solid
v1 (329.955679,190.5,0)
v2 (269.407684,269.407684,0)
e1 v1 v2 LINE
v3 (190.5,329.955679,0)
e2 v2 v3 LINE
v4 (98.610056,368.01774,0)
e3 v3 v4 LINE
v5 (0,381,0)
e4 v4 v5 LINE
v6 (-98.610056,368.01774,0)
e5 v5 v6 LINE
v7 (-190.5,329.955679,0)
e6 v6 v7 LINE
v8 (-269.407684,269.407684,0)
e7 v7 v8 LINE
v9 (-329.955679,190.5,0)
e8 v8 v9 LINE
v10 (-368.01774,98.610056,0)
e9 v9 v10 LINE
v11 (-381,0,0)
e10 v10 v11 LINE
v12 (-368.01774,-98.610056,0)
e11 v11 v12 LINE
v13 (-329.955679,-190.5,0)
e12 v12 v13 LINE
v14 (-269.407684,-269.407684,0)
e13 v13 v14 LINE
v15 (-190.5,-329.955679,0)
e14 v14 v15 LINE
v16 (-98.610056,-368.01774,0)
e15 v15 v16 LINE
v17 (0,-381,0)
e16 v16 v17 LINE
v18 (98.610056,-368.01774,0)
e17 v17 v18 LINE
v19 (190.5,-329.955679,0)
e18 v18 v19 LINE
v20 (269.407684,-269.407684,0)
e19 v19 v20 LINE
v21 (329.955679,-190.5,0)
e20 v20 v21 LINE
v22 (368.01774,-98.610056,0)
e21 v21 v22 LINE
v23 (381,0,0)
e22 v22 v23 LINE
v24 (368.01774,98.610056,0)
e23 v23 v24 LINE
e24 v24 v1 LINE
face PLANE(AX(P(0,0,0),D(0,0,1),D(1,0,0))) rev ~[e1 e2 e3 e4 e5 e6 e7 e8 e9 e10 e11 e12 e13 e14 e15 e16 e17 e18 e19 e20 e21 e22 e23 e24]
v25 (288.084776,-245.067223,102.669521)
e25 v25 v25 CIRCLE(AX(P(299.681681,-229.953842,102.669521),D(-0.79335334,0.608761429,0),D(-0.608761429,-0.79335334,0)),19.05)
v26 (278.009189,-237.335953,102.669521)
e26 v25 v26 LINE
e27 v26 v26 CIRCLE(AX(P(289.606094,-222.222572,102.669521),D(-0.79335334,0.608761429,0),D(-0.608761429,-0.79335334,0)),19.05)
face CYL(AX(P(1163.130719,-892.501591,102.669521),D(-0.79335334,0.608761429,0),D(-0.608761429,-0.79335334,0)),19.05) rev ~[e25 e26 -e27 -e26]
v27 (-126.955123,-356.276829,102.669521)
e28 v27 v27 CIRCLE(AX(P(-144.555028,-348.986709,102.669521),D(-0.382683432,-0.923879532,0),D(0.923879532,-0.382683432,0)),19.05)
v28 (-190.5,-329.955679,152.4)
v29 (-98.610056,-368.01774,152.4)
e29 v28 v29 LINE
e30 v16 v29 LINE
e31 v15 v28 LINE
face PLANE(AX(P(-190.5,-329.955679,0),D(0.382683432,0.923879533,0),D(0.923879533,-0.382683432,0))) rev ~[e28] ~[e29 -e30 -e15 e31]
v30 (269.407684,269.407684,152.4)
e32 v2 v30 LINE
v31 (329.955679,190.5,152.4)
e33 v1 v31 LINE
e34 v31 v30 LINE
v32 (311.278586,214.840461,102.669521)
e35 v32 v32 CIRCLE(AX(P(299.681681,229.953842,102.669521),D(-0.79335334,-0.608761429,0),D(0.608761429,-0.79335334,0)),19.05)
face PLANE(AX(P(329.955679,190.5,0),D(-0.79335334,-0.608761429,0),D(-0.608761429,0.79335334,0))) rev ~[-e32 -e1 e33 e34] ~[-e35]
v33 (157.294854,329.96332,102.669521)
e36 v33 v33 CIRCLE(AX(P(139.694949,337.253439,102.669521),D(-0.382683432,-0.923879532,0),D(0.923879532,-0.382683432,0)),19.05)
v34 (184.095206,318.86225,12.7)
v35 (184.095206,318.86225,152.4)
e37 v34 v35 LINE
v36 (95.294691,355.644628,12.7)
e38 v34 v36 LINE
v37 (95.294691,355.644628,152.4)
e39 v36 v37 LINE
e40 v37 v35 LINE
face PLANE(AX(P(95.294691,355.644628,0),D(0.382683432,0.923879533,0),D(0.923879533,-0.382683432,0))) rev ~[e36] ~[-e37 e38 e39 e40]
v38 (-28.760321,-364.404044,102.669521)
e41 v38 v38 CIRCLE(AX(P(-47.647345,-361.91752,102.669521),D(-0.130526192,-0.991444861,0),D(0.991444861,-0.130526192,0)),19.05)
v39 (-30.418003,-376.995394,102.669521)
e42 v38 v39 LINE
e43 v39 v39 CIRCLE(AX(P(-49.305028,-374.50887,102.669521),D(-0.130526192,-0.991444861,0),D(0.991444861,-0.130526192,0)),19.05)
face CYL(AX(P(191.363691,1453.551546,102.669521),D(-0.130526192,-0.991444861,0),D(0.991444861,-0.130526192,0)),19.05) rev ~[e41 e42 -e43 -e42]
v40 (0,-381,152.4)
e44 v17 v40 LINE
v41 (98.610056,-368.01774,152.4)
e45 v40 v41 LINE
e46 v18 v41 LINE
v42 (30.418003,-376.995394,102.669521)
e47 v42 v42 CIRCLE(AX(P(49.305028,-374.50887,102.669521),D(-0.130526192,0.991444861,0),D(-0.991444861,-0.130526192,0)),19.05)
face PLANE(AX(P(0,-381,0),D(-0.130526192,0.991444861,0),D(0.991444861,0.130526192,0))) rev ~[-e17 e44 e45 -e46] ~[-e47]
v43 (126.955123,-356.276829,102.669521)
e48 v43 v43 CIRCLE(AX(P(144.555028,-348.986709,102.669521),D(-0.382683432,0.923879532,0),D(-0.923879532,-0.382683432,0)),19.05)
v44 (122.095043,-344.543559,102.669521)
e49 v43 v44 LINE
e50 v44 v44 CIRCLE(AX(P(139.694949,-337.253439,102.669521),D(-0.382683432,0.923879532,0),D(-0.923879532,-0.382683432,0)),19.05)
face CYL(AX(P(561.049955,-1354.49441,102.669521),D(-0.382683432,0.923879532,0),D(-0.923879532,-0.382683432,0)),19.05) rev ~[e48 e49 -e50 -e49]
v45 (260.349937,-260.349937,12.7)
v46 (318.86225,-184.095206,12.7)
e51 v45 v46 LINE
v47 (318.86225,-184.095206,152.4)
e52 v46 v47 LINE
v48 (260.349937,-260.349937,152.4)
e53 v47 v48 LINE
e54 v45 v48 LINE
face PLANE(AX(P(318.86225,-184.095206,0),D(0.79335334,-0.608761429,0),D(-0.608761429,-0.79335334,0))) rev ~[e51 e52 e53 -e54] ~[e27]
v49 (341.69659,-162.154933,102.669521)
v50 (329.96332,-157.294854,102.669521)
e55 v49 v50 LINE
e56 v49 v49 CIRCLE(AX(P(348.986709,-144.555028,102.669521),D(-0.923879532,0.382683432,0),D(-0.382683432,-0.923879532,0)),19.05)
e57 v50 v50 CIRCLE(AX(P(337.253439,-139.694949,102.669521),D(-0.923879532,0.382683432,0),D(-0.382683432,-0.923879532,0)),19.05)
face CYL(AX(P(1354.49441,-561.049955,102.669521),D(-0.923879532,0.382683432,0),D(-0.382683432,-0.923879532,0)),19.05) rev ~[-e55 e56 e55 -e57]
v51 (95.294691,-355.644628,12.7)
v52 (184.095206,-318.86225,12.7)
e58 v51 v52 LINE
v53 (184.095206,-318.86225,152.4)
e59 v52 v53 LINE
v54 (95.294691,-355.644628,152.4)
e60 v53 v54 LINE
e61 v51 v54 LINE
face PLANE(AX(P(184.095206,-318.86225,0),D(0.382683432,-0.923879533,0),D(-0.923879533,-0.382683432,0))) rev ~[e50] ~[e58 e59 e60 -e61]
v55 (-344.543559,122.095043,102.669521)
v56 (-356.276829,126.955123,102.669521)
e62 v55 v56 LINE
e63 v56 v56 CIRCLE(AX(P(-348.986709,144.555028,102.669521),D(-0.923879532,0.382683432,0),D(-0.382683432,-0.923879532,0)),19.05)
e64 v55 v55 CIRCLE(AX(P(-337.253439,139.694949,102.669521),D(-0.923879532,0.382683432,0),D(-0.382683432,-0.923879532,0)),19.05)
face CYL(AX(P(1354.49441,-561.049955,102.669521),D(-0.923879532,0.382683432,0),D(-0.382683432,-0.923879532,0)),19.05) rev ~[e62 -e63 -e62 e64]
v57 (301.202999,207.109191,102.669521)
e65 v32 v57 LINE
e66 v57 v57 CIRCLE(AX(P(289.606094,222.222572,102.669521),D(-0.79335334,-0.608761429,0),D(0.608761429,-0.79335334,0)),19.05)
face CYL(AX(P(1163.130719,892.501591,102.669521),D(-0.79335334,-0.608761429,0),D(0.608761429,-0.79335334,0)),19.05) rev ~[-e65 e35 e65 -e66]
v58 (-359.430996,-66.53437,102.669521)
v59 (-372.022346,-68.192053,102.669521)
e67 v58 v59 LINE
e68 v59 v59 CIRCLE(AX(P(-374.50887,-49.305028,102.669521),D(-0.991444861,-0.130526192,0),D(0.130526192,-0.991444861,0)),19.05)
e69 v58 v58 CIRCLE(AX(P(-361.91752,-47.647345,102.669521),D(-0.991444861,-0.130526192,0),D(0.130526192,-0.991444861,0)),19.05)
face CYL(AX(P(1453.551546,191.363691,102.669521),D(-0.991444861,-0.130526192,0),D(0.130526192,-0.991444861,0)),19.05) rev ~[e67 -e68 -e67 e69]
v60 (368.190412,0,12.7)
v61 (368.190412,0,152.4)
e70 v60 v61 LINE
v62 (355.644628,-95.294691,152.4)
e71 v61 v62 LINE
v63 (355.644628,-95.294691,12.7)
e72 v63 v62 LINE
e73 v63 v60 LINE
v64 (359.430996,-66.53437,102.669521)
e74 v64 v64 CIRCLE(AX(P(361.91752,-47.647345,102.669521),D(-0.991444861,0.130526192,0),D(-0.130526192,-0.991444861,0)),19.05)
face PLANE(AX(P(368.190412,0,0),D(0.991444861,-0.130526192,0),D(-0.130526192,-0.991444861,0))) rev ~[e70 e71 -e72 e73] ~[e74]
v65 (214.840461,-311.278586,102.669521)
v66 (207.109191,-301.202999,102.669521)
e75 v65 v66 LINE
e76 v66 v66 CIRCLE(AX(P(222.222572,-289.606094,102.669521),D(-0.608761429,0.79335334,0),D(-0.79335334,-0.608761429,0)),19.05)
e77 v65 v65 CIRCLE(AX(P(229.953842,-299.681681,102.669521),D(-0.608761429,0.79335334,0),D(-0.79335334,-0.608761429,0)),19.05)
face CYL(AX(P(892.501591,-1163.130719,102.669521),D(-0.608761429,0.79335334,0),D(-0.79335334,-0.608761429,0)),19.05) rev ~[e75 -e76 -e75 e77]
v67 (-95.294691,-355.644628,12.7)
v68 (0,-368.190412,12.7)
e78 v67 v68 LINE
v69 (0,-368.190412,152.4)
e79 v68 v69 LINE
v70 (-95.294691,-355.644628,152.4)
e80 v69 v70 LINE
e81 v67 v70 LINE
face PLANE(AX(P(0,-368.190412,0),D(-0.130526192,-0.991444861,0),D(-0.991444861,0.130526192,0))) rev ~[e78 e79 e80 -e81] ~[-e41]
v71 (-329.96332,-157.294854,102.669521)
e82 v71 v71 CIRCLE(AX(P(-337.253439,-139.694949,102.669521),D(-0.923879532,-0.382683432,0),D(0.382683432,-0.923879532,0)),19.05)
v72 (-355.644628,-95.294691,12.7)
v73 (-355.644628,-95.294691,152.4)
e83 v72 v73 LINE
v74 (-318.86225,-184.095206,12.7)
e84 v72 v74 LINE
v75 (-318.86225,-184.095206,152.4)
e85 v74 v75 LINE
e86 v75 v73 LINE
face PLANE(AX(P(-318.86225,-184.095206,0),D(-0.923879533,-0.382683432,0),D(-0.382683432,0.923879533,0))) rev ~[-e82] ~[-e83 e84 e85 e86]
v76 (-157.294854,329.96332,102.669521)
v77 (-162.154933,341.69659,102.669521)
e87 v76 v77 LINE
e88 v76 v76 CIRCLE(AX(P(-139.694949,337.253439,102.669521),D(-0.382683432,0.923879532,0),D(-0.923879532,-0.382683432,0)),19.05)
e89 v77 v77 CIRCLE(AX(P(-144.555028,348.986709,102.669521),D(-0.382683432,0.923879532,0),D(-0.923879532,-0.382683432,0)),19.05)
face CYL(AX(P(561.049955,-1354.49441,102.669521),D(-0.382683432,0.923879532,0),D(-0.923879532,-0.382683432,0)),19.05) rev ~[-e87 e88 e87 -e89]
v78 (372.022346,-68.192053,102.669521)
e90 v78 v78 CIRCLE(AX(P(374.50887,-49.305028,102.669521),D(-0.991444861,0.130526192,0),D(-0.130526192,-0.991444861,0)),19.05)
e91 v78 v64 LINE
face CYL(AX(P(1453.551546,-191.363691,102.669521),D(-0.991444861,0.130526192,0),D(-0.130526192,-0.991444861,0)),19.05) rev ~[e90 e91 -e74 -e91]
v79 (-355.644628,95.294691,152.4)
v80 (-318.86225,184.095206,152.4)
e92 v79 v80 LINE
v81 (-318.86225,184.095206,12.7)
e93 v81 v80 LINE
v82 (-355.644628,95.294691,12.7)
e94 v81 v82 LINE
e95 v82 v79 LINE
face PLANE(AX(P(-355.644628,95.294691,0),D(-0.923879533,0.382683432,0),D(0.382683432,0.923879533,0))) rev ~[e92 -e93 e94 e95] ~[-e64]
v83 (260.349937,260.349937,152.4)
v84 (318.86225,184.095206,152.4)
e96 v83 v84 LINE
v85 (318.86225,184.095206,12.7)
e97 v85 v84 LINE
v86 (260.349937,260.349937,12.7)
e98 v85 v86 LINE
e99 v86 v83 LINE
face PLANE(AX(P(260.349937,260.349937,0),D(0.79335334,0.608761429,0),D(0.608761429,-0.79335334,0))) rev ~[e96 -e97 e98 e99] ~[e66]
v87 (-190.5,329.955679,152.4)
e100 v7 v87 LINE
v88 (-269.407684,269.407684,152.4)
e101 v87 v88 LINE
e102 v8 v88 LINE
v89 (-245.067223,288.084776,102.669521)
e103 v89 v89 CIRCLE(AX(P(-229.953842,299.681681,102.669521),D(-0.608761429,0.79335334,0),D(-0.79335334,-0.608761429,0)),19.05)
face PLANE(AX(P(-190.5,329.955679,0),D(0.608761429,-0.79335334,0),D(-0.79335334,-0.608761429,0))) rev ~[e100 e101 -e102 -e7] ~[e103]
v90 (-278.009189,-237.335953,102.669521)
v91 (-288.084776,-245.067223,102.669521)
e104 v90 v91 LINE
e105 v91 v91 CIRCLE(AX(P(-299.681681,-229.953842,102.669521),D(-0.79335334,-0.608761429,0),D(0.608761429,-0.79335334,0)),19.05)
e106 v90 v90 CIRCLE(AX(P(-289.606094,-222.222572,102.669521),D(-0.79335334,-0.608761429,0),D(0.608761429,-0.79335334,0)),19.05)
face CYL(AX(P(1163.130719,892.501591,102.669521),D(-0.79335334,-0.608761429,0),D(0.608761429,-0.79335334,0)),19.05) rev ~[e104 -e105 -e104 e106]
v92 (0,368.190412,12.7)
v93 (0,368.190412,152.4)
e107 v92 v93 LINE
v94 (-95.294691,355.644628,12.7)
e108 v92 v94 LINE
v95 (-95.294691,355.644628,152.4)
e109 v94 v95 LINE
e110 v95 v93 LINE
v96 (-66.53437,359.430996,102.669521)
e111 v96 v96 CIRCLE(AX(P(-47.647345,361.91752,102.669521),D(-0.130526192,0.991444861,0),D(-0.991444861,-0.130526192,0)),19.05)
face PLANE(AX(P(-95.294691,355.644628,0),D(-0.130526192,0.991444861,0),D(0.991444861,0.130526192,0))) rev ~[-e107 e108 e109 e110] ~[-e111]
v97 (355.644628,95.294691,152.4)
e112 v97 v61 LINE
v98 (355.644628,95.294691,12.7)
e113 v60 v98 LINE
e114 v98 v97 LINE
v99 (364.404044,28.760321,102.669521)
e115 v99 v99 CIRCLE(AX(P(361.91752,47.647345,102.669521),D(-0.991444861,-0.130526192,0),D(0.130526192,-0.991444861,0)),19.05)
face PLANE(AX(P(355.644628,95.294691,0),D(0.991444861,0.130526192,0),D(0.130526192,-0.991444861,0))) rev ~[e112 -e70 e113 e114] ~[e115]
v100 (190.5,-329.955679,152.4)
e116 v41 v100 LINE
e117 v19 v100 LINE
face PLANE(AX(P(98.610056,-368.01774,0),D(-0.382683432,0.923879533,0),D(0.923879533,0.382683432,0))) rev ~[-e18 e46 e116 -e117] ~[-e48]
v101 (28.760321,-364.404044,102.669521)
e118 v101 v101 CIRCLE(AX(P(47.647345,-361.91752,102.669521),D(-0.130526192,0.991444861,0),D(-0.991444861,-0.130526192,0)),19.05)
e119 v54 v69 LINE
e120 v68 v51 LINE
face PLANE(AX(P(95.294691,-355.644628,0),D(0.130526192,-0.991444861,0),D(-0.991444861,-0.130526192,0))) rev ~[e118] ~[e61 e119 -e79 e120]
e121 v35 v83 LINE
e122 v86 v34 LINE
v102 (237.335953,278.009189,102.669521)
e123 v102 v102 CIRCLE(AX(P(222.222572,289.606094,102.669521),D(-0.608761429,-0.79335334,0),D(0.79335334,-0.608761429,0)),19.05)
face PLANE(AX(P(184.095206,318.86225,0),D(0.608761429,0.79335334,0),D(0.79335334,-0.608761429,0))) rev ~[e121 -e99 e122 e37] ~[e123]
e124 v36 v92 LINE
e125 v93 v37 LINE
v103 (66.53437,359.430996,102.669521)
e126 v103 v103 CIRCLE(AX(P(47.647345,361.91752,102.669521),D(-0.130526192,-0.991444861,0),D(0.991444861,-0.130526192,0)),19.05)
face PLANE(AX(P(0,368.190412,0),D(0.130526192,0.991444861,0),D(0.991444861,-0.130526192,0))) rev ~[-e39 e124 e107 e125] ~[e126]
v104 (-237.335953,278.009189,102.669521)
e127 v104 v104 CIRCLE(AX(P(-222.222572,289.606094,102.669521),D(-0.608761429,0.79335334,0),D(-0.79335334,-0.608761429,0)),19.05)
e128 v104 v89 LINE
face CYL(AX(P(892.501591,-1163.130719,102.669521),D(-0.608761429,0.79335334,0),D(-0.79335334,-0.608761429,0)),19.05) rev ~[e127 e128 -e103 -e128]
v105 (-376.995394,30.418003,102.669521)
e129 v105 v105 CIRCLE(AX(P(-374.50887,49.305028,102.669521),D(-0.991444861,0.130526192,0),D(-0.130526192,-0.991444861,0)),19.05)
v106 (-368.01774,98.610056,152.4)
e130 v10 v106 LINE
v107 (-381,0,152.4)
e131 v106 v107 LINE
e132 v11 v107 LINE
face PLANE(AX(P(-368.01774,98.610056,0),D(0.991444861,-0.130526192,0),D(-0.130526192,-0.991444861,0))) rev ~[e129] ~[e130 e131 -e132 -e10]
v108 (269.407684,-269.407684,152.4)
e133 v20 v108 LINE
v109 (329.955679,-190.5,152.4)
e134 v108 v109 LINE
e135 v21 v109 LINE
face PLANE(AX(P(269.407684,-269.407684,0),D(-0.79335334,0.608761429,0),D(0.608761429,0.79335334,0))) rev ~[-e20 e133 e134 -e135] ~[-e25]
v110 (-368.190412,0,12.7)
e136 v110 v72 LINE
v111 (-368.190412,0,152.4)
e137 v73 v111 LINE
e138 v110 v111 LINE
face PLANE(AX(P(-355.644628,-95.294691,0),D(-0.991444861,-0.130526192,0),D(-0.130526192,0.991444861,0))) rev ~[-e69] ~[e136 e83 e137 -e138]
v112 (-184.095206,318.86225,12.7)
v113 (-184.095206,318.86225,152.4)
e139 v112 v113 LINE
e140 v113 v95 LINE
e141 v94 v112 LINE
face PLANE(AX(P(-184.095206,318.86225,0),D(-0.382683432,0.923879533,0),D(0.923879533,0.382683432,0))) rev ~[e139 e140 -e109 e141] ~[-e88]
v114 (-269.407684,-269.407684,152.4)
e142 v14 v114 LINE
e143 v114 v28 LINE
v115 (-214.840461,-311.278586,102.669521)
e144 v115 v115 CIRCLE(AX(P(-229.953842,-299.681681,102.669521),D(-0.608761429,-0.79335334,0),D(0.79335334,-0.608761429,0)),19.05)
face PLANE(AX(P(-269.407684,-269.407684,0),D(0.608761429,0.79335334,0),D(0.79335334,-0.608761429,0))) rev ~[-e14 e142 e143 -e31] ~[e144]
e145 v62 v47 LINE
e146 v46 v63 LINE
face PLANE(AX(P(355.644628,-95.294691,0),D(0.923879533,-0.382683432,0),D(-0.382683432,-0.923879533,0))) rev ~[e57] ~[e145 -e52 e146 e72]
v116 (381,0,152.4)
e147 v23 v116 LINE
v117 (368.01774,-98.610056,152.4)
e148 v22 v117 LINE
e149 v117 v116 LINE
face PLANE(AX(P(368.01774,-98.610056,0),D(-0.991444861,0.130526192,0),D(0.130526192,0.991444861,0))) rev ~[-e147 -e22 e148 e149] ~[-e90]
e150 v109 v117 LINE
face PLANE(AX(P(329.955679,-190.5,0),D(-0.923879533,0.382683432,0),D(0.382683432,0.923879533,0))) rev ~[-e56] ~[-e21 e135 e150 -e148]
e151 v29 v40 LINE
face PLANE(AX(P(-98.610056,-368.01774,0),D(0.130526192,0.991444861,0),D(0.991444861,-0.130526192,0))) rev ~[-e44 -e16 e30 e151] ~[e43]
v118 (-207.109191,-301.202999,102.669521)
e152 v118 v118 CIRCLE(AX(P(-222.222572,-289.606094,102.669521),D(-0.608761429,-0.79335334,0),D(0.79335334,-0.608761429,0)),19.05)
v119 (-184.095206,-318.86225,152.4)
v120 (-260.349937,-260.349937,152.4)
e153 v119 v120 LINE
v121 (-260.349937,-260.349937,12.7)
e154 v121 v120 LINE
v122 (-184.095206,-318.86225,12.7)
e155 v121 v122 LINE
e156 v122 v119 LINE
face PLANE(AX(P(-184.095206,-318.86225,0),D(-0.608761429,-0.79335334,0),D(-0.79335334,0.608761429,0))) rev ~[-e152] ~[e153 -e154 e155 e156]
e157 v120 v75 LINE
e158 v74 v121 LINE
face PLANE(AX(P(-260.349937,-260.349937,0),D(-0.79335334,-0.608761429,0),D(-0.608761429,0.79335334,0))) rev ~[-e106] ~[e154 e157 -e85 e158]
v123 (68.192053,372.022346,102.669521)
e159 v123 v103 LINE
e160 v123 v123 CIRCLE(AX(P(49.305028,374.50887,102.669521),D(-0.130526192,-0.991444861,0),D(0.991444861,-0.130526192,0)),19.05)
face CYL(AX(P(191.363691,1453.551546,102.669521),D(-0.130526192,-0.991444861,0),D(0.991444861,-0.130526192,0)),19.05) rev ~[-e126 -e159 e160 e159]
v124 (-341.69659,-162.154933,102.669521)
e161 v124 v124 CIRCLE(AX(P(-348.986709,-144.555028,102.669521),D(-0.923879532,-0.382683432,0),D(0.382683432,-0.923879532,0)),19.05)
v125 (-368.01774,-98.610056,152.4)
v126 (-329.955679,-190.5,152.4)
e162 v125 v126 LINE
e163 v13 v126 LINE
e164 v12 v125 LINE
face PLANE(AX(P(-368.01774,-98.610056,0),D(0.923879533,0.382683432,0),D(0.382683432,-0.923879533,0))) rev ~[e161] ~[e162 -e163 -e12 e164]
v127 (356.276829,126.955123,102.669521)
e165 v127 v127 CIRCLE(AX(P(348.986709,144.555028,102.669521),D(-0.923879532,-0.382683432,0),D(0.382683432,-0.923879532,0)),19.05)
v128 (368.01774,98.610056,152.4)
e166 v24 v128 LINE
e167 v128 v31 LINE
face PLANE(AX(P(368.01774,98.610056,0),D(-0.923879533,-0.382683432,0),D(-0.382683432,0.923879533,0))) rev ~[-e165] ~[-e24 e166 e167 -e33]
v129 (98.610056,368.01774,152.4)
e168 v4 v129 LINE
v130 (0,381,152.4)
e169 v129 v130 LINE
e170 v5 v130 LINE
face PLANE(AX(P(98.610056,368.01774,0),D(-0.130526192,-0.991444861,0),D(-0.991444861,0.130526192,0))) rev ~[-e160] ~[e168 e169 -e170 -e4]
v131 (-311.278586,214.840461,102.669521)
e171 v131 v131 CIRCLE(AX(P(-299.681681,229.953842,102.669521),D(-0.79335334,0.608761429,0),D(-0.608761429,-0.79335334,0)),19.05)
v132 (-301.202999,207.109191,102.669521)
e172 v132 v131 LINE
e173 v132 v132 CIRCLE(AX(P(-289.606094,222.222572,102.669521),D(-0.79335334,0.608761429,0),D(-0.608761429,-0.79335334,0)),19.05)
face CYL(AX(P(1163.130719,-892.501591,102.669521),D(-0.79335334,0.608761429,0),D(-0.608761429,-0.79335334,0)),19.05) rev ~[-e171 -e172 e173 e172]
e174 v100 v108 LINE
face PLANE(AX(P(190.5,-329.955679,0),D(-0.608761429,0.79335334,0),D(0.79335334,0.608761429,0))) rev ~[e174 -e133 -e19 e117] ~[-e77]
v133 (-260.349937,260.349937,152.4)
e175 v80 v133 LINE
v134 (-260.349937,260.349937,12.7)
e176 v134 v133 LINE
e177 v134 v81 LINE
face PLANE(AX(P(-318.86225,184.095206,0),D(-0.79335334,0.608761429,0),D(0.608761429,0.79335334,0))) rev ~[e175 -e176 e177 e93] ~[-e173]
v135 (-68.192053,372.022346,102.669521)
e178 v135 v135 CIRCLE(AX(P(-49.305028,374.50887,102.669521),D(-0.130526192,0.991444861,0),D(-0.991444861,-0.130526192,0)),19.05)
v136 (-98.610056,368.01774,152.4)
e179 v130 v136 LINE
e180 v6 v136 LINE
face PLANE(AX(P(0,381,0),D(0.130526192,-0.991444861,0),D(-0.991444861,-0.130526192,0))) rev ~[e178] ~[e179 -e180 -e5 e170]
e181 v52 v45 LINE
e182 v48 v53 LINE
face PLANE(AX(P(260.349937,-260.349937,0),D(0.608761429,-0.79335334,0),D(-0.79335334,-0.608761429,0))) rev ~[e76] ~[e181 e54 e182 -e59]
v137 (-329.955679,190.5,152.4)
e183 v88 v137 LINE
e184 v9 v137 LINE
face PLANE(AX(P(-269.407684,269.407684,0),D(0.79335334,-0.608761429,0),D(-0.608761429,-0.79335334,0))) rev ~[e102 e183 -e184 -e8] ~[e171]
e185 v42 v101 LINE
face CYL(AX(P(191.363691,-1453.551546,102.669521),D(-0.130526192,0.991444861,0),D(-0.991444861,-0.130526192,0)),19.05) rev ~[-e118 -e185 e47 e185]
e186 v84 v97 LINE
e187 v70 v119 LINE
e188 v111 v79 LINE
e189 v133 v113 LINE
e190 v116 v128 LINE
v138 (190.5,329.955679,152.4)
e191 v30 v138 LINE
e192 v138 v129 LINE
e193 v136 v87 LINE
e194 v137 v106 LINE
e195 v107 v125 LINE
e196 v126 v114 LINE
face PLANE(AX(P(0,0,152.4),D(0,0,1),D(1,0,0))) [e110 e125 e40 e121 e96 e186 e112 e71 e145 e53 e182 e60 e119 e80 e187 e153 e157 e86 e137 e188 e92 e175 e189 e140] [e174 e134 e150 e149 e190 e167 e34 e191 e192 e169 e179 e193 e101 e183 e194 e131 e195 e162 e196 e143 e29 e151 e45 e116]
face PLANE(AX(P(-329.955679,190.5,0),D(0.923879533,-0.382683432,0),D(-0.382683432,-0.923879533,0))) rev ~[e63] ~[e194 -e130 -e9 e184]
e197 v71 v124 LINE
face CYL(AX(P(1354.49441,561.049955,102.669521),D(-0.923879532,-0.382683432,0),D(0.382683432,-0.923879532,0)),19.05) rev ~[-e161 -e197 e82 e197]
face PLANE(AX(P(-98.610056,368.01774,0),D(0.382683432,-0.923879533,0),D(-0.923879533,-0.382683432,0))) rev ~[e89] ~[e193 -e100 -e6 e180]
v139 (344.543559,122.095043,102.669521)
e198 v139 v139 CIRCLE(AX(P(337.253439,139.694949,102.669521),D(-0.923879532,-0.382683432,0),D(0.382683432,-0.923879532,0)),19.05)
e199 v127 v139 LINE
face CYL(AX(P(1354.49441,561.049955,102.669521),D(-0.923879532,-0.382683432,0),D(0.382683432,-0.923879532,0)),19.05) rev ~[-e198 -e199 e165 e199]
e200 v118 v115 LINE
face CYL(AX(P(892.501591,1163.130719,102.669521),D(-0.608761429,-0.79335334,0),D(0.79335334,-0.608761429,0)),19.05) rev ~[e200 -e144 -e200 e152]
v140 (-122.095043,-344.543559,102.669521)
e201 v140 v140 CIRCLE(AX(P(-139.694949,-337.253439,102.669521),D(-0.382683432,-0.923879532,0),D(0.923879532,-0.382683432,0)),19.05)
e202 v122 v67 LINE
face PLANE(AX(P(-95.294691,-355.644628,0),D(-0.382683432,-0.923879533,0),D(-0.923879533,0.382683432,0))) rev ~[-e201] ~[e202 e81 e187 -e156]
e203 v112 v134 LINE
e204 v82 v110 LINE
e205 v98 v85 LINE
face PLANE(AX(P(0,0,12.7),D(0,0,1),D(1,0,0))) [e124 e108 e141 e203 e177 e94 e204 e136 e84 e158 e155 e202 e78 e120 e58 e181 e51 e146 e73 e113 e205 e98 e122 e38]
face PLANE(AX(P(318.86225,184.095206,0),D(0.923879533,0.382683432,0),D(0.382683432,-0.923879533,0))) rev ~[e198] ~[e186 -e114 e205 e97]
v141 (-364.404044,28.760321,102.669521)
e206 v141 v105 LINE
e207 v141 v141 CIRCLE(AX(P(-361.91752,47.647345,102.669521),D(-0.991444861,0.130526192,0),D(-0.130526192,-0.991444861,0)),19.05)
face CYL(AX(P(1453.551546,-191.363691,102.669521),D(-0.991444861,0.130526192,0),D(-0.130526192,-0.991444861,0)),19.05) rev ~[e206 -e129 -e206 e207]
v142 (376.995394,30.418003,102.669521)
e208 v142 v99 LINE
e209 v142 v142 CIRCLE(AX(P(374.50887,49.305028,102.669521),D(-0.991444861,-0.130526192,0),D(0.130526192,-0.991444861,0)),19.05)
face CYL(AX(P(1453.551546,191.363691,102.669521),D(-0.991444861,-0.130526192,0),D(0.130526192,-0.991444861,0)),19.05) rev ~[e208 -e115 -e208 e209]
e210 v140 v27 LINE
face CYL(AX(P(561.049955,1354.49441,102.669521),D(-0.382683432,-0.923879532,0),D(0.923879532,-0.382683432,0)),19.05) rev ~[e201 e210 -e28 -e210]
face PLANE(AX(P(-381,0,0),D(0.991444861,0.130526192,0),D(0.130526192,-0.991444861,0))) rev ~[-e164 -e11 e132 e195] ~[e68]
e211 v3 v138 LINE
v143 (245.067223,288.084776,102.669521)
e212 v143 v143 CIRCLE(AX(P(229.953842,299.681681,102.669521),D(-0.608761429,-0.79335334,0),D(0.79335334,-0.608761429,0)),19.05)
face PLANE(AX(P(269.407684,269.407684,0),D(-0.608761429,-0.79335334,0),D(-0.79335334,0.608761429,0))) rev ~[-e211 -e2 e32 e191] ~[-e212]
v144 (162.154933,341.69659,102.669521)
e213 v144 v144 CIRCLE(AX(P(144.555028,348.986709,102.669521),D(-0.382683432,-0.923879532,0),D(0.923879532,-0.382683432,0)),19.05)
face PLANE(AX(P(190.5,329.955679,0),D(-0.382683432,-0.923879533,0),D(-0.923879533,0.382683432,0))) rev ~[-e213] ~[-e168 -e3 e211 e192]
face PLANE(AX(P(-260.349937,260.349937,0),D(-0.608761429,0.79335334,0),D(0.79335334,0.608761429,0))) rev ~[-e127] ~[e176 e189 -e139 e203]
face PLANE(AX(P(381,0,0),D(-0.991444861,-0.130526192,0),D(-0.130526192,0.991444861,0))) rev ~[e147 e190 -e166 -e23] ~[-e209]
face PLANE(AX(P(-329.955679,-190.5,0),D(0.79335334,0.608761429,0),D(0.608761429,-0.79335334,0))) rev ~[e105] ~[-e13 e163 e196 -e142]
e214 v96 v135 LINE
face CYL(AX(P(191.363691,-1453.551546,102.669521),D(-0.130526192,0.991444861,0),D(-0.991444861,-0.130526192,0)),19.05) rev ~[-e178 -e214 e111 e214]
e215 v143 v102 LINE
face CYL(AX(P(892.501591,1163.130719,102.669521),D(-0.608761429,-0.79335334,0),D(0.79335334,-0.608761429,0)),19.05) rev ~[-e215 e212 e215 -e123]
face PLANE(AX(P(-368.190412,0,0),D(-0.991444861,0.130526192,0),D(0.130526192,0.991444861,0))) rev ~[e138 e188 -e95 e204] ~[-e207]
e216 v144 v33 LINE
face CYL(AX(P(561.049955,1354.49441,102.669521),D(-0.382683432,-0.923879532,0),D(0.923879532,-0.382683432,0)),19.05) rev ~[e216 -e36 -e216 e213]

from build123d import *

# Parameters (mm, degrees)
F1_DEPTH     = 152.4
F2_DEPTH     = 12.7
F15_D        = 38.1
F15_ON_F13_D = 38.1
F15_ON_F12_D = 38.1
F15_ON_F11_D = 38.1
F15_ON_F10_D = 38.1
F15_ON_F9_D  = 38.1
F15_ON_F8_D  = 38.1
F15_ON_F7_D  = 38.1
F15_ON_F6_D  = 38.1
F15_ON_F5_D  = 38.1
F15_ON_F4_D  = 38.1
F15_ON_F3_D  = 38.1


with BuildPart() as f1:
    # F0 (on Top) → F1 (new body)
    with BuildSketch(Plane.XY):
        Polygon((98.6100561841, 368.0177398161), (0, 381), (-98.6100561841, 368.0177398161), (-190.5, 329.9556788419), (-269.4076836321, 269.4076836321), (-329.9556788419, 190.5), (-368.0177398161, 98.6100561841), (-381, 0), (-368.0177398161, -98.6100561841), (-329.9556788419, -190.5), (-269.4076836321, -269.4076836321), (-190.5, -329.9556788419), (-98.6100561841, -368.0177398161), (0, -381), (98.6100561841, -368.0177398161), (190.5, -329.9556788419), (269.4076836321, -269.4076836321), (329.9556788419, -190.5), (368.0177398161, -98.6100561841), (381, 0), (368.0177398161, 98.6100561841), (329.9556788419, 190.5), (269.4076836321, 269.4076836321), (190.5, 329.9556788419), align=None)
        Polygon((-95.2946909017, 355.6446281366), (0, 368.1904122006), (95.2946909017, 355.6446281366), (184.0952061003, 318.8622503956), (260.3499372349, 260.3499372349), (318.8622503956, 184.0952061003), (355.6446281366, 95.2946909017), (368.1904122006, 0), (355.6446281366, -95.2946909017), (318.8622503956, -184.0952061003), (260.3499372349, -260.3499372349), (184.0952061003, -318.8622503956), (95.2946909017, -355.6446281366), (0, -368.1904122006), (-95.2946909017, -355.6446281366), (-184.0952061003, -318.8622503956), (-260.3499372349, -260.3499372349), (-318.8622503956, -184.0952061003), (-355.6446281366, -95.2946909017), (-368.1904122006, 0), (-355.6446281366, 95.2946909017), (-318.8622503956, 184.0952061003), (-260.3499372349, 260.3499372349), (-184.0952061003, 318.8622503956), align=None, mode=Mode.SUBTRACT)
    extrude(amount=F1_DEPTH)

    # F0 (on Top) → F2 (join)
    with BuildSketch(Plane.XY):
        Polygon((95.2946909017, 355.6446281366), (0, 368.1904122006), (-95.2946909017, 355.6446281366), (-184.0952061003, 318.8622503956), (-260.3499372349, 260.3499372349), (-318.8622503956, 184.0952061003), (-355.6446281366, 95.2946909017), (-368.1904122006, 0), (-355.6446281366, -95.2946909017), (-318.8622503956, -184.0952061003), (-260.3499372349, -260.3499372349), (-184.0952061003, -318.8622503956), (-95.2946909017, -355.6446281366), (0, -368.1904122006), (95.2946909017, -355.6446281366), (184.0952061003, -318.8622503956), (260.3499372349, -260.3499372349), (318.8622503956, -184.0952061003), (355.6446281366, -95.2946909017), (368.1904122006, 0), (355.6446281366, 95.2946909017), (318.8622503956, 184.0952061003), (260.3499372349, 260.3499372349), (184.0952061003, 318.8622503956), align=None)
    extrude(amount=F2_DEPTH)

    # F15 (through all)
    with Locations(Plane(origin=(49.305028092, 374.5088699081, 0), x_dir=(-0.9914448614, 0.1305261922, 0), z_dir=(0.1305261922, 0.9914448614, 0))):
        with Locations((0, 102.6695207642)):
            Hole(F15_D / 2)

    # F15 on F13 (through all)
    with Locations(Plane(origin=(144.555028092, 348.986709329, 0), x_dir=(-0.9238795325, 0.3826834324, 0), z_dir=(0.3826834324, 0.9238795325, 0))):
        with Locations((0, 102.6695207642)):
            Hole(F15_ON_F13_D / 2)

    # F15 on F12 (through all)
    with Locations(Plane(origin=(229.953841816, 299.681681237, 0), x_dir=(-0.7933533403, 0.608761429, 0), z_dir=(0.608761429, 0.7933533403, 0))):
        with Locations((0, 102.6695207642)):
            Hole(F15_ON_F12_D / 2)

    # F15 on F11 (through all)
    with Locations(Plane(origin=(299.681681237, 229.953841816, 0), x_dir=(-0.608761429, 0.7933533403, 0), z_dir=(0.7933533403, 0.608761429, 0))):
        with Locations((0, 102.6695207642)):
            Hole(F15_ON_F11_D / 2)

    # F15 on F10 (through all)
    with Locations(Plane(origin=(348.986709329, 144.555028092, 0), x_dir=(-0.3826834324, 0.9238795325, 0), z_dir=(0.9238795325, 0.3826834324, 0))):
        with Locations((0, 102.6695207642)):
            Hole(F15_ON_F10_D / 2)

    # F15 on F9 (through all)
    with Locations(Plane(origin=(374.5088699081, 49.305028092, 0), x_dir=(-0.1305261922, 0.9914448614, 0), z_dir=(0.9914448614, 0.1305261922, 0))):
        with Locations((0, 102.6695207642)):
            Hole(F15_ON_F9_D / 2)

    # F15 on F8 (through all)
    with Locations(Plane(origin=(374.5088699081, -49.305028092, 0), x_dir=(0.1305261922, 0.9914448614, 0), z_dir=(0.9914448614, -0.1305261922, 0))):
        with Locations((0, 102.6695207642)):
            Hole(F15_ON_F8_D / 2)

    # F15 on F7 (through all)
    with Locations(Plane(origin=(348.986709329, -144.555028092, 0), x_dir=(0.3826834324, 0.9238795325, 0), z_dir=(0.9238795325, -0.3826834324, 0))):
        with Locations((0, 102.6695207642)):
            Hole(F15_ON_F7_D / 2)

    # F15 on F6 (through all)
    with Locations(Plane(origin=(299.681681237, -229.953841816, 0), x_dir=(0.608761429, 0.7933533403, 0), z_dir=(0.7933533403, -0.608761429, 0))):
        with Locations((0, 102.6695207642)):
            Hole(F15_ON_F6_D / 2)

    # F15 on F5 (through all)
    with Locations(Plane(origin=(229.953841816, -299.681681237, 0), x_dir=(0.7933533403, 0.608761429, 0), z_dir=(0.608761429, -0.7933533403, 0))):
        with Locations((0, 102.6695207642)):
            Hole(F15_ON_F5_D / 2)

    # F15 on F4 (through all)
    with Locations(Plane(origin=(144.555028092, -348.986709329, 0), x_dir=(0.9238795325, 0.3826834324, 0), z_dir=(0.3826834324, -0.9238795325, 0))):
        with Locations((0, 102.6695207642)):
            Hole(F15_ON_F4_D / 2)

    # F15 on F3 (through all)
    with Locations(Plane(origin=(49.305028092, -374.5088699081, 0), x_dir=(0.9914448614, 0.1305261922, 0), z_dir=(0.1305261922, -0.9914448614, 0))):
        with Locations((0, 102.6695207642)):
            Hole(F15_ON_F3_D / 2)


solid = f1.part
